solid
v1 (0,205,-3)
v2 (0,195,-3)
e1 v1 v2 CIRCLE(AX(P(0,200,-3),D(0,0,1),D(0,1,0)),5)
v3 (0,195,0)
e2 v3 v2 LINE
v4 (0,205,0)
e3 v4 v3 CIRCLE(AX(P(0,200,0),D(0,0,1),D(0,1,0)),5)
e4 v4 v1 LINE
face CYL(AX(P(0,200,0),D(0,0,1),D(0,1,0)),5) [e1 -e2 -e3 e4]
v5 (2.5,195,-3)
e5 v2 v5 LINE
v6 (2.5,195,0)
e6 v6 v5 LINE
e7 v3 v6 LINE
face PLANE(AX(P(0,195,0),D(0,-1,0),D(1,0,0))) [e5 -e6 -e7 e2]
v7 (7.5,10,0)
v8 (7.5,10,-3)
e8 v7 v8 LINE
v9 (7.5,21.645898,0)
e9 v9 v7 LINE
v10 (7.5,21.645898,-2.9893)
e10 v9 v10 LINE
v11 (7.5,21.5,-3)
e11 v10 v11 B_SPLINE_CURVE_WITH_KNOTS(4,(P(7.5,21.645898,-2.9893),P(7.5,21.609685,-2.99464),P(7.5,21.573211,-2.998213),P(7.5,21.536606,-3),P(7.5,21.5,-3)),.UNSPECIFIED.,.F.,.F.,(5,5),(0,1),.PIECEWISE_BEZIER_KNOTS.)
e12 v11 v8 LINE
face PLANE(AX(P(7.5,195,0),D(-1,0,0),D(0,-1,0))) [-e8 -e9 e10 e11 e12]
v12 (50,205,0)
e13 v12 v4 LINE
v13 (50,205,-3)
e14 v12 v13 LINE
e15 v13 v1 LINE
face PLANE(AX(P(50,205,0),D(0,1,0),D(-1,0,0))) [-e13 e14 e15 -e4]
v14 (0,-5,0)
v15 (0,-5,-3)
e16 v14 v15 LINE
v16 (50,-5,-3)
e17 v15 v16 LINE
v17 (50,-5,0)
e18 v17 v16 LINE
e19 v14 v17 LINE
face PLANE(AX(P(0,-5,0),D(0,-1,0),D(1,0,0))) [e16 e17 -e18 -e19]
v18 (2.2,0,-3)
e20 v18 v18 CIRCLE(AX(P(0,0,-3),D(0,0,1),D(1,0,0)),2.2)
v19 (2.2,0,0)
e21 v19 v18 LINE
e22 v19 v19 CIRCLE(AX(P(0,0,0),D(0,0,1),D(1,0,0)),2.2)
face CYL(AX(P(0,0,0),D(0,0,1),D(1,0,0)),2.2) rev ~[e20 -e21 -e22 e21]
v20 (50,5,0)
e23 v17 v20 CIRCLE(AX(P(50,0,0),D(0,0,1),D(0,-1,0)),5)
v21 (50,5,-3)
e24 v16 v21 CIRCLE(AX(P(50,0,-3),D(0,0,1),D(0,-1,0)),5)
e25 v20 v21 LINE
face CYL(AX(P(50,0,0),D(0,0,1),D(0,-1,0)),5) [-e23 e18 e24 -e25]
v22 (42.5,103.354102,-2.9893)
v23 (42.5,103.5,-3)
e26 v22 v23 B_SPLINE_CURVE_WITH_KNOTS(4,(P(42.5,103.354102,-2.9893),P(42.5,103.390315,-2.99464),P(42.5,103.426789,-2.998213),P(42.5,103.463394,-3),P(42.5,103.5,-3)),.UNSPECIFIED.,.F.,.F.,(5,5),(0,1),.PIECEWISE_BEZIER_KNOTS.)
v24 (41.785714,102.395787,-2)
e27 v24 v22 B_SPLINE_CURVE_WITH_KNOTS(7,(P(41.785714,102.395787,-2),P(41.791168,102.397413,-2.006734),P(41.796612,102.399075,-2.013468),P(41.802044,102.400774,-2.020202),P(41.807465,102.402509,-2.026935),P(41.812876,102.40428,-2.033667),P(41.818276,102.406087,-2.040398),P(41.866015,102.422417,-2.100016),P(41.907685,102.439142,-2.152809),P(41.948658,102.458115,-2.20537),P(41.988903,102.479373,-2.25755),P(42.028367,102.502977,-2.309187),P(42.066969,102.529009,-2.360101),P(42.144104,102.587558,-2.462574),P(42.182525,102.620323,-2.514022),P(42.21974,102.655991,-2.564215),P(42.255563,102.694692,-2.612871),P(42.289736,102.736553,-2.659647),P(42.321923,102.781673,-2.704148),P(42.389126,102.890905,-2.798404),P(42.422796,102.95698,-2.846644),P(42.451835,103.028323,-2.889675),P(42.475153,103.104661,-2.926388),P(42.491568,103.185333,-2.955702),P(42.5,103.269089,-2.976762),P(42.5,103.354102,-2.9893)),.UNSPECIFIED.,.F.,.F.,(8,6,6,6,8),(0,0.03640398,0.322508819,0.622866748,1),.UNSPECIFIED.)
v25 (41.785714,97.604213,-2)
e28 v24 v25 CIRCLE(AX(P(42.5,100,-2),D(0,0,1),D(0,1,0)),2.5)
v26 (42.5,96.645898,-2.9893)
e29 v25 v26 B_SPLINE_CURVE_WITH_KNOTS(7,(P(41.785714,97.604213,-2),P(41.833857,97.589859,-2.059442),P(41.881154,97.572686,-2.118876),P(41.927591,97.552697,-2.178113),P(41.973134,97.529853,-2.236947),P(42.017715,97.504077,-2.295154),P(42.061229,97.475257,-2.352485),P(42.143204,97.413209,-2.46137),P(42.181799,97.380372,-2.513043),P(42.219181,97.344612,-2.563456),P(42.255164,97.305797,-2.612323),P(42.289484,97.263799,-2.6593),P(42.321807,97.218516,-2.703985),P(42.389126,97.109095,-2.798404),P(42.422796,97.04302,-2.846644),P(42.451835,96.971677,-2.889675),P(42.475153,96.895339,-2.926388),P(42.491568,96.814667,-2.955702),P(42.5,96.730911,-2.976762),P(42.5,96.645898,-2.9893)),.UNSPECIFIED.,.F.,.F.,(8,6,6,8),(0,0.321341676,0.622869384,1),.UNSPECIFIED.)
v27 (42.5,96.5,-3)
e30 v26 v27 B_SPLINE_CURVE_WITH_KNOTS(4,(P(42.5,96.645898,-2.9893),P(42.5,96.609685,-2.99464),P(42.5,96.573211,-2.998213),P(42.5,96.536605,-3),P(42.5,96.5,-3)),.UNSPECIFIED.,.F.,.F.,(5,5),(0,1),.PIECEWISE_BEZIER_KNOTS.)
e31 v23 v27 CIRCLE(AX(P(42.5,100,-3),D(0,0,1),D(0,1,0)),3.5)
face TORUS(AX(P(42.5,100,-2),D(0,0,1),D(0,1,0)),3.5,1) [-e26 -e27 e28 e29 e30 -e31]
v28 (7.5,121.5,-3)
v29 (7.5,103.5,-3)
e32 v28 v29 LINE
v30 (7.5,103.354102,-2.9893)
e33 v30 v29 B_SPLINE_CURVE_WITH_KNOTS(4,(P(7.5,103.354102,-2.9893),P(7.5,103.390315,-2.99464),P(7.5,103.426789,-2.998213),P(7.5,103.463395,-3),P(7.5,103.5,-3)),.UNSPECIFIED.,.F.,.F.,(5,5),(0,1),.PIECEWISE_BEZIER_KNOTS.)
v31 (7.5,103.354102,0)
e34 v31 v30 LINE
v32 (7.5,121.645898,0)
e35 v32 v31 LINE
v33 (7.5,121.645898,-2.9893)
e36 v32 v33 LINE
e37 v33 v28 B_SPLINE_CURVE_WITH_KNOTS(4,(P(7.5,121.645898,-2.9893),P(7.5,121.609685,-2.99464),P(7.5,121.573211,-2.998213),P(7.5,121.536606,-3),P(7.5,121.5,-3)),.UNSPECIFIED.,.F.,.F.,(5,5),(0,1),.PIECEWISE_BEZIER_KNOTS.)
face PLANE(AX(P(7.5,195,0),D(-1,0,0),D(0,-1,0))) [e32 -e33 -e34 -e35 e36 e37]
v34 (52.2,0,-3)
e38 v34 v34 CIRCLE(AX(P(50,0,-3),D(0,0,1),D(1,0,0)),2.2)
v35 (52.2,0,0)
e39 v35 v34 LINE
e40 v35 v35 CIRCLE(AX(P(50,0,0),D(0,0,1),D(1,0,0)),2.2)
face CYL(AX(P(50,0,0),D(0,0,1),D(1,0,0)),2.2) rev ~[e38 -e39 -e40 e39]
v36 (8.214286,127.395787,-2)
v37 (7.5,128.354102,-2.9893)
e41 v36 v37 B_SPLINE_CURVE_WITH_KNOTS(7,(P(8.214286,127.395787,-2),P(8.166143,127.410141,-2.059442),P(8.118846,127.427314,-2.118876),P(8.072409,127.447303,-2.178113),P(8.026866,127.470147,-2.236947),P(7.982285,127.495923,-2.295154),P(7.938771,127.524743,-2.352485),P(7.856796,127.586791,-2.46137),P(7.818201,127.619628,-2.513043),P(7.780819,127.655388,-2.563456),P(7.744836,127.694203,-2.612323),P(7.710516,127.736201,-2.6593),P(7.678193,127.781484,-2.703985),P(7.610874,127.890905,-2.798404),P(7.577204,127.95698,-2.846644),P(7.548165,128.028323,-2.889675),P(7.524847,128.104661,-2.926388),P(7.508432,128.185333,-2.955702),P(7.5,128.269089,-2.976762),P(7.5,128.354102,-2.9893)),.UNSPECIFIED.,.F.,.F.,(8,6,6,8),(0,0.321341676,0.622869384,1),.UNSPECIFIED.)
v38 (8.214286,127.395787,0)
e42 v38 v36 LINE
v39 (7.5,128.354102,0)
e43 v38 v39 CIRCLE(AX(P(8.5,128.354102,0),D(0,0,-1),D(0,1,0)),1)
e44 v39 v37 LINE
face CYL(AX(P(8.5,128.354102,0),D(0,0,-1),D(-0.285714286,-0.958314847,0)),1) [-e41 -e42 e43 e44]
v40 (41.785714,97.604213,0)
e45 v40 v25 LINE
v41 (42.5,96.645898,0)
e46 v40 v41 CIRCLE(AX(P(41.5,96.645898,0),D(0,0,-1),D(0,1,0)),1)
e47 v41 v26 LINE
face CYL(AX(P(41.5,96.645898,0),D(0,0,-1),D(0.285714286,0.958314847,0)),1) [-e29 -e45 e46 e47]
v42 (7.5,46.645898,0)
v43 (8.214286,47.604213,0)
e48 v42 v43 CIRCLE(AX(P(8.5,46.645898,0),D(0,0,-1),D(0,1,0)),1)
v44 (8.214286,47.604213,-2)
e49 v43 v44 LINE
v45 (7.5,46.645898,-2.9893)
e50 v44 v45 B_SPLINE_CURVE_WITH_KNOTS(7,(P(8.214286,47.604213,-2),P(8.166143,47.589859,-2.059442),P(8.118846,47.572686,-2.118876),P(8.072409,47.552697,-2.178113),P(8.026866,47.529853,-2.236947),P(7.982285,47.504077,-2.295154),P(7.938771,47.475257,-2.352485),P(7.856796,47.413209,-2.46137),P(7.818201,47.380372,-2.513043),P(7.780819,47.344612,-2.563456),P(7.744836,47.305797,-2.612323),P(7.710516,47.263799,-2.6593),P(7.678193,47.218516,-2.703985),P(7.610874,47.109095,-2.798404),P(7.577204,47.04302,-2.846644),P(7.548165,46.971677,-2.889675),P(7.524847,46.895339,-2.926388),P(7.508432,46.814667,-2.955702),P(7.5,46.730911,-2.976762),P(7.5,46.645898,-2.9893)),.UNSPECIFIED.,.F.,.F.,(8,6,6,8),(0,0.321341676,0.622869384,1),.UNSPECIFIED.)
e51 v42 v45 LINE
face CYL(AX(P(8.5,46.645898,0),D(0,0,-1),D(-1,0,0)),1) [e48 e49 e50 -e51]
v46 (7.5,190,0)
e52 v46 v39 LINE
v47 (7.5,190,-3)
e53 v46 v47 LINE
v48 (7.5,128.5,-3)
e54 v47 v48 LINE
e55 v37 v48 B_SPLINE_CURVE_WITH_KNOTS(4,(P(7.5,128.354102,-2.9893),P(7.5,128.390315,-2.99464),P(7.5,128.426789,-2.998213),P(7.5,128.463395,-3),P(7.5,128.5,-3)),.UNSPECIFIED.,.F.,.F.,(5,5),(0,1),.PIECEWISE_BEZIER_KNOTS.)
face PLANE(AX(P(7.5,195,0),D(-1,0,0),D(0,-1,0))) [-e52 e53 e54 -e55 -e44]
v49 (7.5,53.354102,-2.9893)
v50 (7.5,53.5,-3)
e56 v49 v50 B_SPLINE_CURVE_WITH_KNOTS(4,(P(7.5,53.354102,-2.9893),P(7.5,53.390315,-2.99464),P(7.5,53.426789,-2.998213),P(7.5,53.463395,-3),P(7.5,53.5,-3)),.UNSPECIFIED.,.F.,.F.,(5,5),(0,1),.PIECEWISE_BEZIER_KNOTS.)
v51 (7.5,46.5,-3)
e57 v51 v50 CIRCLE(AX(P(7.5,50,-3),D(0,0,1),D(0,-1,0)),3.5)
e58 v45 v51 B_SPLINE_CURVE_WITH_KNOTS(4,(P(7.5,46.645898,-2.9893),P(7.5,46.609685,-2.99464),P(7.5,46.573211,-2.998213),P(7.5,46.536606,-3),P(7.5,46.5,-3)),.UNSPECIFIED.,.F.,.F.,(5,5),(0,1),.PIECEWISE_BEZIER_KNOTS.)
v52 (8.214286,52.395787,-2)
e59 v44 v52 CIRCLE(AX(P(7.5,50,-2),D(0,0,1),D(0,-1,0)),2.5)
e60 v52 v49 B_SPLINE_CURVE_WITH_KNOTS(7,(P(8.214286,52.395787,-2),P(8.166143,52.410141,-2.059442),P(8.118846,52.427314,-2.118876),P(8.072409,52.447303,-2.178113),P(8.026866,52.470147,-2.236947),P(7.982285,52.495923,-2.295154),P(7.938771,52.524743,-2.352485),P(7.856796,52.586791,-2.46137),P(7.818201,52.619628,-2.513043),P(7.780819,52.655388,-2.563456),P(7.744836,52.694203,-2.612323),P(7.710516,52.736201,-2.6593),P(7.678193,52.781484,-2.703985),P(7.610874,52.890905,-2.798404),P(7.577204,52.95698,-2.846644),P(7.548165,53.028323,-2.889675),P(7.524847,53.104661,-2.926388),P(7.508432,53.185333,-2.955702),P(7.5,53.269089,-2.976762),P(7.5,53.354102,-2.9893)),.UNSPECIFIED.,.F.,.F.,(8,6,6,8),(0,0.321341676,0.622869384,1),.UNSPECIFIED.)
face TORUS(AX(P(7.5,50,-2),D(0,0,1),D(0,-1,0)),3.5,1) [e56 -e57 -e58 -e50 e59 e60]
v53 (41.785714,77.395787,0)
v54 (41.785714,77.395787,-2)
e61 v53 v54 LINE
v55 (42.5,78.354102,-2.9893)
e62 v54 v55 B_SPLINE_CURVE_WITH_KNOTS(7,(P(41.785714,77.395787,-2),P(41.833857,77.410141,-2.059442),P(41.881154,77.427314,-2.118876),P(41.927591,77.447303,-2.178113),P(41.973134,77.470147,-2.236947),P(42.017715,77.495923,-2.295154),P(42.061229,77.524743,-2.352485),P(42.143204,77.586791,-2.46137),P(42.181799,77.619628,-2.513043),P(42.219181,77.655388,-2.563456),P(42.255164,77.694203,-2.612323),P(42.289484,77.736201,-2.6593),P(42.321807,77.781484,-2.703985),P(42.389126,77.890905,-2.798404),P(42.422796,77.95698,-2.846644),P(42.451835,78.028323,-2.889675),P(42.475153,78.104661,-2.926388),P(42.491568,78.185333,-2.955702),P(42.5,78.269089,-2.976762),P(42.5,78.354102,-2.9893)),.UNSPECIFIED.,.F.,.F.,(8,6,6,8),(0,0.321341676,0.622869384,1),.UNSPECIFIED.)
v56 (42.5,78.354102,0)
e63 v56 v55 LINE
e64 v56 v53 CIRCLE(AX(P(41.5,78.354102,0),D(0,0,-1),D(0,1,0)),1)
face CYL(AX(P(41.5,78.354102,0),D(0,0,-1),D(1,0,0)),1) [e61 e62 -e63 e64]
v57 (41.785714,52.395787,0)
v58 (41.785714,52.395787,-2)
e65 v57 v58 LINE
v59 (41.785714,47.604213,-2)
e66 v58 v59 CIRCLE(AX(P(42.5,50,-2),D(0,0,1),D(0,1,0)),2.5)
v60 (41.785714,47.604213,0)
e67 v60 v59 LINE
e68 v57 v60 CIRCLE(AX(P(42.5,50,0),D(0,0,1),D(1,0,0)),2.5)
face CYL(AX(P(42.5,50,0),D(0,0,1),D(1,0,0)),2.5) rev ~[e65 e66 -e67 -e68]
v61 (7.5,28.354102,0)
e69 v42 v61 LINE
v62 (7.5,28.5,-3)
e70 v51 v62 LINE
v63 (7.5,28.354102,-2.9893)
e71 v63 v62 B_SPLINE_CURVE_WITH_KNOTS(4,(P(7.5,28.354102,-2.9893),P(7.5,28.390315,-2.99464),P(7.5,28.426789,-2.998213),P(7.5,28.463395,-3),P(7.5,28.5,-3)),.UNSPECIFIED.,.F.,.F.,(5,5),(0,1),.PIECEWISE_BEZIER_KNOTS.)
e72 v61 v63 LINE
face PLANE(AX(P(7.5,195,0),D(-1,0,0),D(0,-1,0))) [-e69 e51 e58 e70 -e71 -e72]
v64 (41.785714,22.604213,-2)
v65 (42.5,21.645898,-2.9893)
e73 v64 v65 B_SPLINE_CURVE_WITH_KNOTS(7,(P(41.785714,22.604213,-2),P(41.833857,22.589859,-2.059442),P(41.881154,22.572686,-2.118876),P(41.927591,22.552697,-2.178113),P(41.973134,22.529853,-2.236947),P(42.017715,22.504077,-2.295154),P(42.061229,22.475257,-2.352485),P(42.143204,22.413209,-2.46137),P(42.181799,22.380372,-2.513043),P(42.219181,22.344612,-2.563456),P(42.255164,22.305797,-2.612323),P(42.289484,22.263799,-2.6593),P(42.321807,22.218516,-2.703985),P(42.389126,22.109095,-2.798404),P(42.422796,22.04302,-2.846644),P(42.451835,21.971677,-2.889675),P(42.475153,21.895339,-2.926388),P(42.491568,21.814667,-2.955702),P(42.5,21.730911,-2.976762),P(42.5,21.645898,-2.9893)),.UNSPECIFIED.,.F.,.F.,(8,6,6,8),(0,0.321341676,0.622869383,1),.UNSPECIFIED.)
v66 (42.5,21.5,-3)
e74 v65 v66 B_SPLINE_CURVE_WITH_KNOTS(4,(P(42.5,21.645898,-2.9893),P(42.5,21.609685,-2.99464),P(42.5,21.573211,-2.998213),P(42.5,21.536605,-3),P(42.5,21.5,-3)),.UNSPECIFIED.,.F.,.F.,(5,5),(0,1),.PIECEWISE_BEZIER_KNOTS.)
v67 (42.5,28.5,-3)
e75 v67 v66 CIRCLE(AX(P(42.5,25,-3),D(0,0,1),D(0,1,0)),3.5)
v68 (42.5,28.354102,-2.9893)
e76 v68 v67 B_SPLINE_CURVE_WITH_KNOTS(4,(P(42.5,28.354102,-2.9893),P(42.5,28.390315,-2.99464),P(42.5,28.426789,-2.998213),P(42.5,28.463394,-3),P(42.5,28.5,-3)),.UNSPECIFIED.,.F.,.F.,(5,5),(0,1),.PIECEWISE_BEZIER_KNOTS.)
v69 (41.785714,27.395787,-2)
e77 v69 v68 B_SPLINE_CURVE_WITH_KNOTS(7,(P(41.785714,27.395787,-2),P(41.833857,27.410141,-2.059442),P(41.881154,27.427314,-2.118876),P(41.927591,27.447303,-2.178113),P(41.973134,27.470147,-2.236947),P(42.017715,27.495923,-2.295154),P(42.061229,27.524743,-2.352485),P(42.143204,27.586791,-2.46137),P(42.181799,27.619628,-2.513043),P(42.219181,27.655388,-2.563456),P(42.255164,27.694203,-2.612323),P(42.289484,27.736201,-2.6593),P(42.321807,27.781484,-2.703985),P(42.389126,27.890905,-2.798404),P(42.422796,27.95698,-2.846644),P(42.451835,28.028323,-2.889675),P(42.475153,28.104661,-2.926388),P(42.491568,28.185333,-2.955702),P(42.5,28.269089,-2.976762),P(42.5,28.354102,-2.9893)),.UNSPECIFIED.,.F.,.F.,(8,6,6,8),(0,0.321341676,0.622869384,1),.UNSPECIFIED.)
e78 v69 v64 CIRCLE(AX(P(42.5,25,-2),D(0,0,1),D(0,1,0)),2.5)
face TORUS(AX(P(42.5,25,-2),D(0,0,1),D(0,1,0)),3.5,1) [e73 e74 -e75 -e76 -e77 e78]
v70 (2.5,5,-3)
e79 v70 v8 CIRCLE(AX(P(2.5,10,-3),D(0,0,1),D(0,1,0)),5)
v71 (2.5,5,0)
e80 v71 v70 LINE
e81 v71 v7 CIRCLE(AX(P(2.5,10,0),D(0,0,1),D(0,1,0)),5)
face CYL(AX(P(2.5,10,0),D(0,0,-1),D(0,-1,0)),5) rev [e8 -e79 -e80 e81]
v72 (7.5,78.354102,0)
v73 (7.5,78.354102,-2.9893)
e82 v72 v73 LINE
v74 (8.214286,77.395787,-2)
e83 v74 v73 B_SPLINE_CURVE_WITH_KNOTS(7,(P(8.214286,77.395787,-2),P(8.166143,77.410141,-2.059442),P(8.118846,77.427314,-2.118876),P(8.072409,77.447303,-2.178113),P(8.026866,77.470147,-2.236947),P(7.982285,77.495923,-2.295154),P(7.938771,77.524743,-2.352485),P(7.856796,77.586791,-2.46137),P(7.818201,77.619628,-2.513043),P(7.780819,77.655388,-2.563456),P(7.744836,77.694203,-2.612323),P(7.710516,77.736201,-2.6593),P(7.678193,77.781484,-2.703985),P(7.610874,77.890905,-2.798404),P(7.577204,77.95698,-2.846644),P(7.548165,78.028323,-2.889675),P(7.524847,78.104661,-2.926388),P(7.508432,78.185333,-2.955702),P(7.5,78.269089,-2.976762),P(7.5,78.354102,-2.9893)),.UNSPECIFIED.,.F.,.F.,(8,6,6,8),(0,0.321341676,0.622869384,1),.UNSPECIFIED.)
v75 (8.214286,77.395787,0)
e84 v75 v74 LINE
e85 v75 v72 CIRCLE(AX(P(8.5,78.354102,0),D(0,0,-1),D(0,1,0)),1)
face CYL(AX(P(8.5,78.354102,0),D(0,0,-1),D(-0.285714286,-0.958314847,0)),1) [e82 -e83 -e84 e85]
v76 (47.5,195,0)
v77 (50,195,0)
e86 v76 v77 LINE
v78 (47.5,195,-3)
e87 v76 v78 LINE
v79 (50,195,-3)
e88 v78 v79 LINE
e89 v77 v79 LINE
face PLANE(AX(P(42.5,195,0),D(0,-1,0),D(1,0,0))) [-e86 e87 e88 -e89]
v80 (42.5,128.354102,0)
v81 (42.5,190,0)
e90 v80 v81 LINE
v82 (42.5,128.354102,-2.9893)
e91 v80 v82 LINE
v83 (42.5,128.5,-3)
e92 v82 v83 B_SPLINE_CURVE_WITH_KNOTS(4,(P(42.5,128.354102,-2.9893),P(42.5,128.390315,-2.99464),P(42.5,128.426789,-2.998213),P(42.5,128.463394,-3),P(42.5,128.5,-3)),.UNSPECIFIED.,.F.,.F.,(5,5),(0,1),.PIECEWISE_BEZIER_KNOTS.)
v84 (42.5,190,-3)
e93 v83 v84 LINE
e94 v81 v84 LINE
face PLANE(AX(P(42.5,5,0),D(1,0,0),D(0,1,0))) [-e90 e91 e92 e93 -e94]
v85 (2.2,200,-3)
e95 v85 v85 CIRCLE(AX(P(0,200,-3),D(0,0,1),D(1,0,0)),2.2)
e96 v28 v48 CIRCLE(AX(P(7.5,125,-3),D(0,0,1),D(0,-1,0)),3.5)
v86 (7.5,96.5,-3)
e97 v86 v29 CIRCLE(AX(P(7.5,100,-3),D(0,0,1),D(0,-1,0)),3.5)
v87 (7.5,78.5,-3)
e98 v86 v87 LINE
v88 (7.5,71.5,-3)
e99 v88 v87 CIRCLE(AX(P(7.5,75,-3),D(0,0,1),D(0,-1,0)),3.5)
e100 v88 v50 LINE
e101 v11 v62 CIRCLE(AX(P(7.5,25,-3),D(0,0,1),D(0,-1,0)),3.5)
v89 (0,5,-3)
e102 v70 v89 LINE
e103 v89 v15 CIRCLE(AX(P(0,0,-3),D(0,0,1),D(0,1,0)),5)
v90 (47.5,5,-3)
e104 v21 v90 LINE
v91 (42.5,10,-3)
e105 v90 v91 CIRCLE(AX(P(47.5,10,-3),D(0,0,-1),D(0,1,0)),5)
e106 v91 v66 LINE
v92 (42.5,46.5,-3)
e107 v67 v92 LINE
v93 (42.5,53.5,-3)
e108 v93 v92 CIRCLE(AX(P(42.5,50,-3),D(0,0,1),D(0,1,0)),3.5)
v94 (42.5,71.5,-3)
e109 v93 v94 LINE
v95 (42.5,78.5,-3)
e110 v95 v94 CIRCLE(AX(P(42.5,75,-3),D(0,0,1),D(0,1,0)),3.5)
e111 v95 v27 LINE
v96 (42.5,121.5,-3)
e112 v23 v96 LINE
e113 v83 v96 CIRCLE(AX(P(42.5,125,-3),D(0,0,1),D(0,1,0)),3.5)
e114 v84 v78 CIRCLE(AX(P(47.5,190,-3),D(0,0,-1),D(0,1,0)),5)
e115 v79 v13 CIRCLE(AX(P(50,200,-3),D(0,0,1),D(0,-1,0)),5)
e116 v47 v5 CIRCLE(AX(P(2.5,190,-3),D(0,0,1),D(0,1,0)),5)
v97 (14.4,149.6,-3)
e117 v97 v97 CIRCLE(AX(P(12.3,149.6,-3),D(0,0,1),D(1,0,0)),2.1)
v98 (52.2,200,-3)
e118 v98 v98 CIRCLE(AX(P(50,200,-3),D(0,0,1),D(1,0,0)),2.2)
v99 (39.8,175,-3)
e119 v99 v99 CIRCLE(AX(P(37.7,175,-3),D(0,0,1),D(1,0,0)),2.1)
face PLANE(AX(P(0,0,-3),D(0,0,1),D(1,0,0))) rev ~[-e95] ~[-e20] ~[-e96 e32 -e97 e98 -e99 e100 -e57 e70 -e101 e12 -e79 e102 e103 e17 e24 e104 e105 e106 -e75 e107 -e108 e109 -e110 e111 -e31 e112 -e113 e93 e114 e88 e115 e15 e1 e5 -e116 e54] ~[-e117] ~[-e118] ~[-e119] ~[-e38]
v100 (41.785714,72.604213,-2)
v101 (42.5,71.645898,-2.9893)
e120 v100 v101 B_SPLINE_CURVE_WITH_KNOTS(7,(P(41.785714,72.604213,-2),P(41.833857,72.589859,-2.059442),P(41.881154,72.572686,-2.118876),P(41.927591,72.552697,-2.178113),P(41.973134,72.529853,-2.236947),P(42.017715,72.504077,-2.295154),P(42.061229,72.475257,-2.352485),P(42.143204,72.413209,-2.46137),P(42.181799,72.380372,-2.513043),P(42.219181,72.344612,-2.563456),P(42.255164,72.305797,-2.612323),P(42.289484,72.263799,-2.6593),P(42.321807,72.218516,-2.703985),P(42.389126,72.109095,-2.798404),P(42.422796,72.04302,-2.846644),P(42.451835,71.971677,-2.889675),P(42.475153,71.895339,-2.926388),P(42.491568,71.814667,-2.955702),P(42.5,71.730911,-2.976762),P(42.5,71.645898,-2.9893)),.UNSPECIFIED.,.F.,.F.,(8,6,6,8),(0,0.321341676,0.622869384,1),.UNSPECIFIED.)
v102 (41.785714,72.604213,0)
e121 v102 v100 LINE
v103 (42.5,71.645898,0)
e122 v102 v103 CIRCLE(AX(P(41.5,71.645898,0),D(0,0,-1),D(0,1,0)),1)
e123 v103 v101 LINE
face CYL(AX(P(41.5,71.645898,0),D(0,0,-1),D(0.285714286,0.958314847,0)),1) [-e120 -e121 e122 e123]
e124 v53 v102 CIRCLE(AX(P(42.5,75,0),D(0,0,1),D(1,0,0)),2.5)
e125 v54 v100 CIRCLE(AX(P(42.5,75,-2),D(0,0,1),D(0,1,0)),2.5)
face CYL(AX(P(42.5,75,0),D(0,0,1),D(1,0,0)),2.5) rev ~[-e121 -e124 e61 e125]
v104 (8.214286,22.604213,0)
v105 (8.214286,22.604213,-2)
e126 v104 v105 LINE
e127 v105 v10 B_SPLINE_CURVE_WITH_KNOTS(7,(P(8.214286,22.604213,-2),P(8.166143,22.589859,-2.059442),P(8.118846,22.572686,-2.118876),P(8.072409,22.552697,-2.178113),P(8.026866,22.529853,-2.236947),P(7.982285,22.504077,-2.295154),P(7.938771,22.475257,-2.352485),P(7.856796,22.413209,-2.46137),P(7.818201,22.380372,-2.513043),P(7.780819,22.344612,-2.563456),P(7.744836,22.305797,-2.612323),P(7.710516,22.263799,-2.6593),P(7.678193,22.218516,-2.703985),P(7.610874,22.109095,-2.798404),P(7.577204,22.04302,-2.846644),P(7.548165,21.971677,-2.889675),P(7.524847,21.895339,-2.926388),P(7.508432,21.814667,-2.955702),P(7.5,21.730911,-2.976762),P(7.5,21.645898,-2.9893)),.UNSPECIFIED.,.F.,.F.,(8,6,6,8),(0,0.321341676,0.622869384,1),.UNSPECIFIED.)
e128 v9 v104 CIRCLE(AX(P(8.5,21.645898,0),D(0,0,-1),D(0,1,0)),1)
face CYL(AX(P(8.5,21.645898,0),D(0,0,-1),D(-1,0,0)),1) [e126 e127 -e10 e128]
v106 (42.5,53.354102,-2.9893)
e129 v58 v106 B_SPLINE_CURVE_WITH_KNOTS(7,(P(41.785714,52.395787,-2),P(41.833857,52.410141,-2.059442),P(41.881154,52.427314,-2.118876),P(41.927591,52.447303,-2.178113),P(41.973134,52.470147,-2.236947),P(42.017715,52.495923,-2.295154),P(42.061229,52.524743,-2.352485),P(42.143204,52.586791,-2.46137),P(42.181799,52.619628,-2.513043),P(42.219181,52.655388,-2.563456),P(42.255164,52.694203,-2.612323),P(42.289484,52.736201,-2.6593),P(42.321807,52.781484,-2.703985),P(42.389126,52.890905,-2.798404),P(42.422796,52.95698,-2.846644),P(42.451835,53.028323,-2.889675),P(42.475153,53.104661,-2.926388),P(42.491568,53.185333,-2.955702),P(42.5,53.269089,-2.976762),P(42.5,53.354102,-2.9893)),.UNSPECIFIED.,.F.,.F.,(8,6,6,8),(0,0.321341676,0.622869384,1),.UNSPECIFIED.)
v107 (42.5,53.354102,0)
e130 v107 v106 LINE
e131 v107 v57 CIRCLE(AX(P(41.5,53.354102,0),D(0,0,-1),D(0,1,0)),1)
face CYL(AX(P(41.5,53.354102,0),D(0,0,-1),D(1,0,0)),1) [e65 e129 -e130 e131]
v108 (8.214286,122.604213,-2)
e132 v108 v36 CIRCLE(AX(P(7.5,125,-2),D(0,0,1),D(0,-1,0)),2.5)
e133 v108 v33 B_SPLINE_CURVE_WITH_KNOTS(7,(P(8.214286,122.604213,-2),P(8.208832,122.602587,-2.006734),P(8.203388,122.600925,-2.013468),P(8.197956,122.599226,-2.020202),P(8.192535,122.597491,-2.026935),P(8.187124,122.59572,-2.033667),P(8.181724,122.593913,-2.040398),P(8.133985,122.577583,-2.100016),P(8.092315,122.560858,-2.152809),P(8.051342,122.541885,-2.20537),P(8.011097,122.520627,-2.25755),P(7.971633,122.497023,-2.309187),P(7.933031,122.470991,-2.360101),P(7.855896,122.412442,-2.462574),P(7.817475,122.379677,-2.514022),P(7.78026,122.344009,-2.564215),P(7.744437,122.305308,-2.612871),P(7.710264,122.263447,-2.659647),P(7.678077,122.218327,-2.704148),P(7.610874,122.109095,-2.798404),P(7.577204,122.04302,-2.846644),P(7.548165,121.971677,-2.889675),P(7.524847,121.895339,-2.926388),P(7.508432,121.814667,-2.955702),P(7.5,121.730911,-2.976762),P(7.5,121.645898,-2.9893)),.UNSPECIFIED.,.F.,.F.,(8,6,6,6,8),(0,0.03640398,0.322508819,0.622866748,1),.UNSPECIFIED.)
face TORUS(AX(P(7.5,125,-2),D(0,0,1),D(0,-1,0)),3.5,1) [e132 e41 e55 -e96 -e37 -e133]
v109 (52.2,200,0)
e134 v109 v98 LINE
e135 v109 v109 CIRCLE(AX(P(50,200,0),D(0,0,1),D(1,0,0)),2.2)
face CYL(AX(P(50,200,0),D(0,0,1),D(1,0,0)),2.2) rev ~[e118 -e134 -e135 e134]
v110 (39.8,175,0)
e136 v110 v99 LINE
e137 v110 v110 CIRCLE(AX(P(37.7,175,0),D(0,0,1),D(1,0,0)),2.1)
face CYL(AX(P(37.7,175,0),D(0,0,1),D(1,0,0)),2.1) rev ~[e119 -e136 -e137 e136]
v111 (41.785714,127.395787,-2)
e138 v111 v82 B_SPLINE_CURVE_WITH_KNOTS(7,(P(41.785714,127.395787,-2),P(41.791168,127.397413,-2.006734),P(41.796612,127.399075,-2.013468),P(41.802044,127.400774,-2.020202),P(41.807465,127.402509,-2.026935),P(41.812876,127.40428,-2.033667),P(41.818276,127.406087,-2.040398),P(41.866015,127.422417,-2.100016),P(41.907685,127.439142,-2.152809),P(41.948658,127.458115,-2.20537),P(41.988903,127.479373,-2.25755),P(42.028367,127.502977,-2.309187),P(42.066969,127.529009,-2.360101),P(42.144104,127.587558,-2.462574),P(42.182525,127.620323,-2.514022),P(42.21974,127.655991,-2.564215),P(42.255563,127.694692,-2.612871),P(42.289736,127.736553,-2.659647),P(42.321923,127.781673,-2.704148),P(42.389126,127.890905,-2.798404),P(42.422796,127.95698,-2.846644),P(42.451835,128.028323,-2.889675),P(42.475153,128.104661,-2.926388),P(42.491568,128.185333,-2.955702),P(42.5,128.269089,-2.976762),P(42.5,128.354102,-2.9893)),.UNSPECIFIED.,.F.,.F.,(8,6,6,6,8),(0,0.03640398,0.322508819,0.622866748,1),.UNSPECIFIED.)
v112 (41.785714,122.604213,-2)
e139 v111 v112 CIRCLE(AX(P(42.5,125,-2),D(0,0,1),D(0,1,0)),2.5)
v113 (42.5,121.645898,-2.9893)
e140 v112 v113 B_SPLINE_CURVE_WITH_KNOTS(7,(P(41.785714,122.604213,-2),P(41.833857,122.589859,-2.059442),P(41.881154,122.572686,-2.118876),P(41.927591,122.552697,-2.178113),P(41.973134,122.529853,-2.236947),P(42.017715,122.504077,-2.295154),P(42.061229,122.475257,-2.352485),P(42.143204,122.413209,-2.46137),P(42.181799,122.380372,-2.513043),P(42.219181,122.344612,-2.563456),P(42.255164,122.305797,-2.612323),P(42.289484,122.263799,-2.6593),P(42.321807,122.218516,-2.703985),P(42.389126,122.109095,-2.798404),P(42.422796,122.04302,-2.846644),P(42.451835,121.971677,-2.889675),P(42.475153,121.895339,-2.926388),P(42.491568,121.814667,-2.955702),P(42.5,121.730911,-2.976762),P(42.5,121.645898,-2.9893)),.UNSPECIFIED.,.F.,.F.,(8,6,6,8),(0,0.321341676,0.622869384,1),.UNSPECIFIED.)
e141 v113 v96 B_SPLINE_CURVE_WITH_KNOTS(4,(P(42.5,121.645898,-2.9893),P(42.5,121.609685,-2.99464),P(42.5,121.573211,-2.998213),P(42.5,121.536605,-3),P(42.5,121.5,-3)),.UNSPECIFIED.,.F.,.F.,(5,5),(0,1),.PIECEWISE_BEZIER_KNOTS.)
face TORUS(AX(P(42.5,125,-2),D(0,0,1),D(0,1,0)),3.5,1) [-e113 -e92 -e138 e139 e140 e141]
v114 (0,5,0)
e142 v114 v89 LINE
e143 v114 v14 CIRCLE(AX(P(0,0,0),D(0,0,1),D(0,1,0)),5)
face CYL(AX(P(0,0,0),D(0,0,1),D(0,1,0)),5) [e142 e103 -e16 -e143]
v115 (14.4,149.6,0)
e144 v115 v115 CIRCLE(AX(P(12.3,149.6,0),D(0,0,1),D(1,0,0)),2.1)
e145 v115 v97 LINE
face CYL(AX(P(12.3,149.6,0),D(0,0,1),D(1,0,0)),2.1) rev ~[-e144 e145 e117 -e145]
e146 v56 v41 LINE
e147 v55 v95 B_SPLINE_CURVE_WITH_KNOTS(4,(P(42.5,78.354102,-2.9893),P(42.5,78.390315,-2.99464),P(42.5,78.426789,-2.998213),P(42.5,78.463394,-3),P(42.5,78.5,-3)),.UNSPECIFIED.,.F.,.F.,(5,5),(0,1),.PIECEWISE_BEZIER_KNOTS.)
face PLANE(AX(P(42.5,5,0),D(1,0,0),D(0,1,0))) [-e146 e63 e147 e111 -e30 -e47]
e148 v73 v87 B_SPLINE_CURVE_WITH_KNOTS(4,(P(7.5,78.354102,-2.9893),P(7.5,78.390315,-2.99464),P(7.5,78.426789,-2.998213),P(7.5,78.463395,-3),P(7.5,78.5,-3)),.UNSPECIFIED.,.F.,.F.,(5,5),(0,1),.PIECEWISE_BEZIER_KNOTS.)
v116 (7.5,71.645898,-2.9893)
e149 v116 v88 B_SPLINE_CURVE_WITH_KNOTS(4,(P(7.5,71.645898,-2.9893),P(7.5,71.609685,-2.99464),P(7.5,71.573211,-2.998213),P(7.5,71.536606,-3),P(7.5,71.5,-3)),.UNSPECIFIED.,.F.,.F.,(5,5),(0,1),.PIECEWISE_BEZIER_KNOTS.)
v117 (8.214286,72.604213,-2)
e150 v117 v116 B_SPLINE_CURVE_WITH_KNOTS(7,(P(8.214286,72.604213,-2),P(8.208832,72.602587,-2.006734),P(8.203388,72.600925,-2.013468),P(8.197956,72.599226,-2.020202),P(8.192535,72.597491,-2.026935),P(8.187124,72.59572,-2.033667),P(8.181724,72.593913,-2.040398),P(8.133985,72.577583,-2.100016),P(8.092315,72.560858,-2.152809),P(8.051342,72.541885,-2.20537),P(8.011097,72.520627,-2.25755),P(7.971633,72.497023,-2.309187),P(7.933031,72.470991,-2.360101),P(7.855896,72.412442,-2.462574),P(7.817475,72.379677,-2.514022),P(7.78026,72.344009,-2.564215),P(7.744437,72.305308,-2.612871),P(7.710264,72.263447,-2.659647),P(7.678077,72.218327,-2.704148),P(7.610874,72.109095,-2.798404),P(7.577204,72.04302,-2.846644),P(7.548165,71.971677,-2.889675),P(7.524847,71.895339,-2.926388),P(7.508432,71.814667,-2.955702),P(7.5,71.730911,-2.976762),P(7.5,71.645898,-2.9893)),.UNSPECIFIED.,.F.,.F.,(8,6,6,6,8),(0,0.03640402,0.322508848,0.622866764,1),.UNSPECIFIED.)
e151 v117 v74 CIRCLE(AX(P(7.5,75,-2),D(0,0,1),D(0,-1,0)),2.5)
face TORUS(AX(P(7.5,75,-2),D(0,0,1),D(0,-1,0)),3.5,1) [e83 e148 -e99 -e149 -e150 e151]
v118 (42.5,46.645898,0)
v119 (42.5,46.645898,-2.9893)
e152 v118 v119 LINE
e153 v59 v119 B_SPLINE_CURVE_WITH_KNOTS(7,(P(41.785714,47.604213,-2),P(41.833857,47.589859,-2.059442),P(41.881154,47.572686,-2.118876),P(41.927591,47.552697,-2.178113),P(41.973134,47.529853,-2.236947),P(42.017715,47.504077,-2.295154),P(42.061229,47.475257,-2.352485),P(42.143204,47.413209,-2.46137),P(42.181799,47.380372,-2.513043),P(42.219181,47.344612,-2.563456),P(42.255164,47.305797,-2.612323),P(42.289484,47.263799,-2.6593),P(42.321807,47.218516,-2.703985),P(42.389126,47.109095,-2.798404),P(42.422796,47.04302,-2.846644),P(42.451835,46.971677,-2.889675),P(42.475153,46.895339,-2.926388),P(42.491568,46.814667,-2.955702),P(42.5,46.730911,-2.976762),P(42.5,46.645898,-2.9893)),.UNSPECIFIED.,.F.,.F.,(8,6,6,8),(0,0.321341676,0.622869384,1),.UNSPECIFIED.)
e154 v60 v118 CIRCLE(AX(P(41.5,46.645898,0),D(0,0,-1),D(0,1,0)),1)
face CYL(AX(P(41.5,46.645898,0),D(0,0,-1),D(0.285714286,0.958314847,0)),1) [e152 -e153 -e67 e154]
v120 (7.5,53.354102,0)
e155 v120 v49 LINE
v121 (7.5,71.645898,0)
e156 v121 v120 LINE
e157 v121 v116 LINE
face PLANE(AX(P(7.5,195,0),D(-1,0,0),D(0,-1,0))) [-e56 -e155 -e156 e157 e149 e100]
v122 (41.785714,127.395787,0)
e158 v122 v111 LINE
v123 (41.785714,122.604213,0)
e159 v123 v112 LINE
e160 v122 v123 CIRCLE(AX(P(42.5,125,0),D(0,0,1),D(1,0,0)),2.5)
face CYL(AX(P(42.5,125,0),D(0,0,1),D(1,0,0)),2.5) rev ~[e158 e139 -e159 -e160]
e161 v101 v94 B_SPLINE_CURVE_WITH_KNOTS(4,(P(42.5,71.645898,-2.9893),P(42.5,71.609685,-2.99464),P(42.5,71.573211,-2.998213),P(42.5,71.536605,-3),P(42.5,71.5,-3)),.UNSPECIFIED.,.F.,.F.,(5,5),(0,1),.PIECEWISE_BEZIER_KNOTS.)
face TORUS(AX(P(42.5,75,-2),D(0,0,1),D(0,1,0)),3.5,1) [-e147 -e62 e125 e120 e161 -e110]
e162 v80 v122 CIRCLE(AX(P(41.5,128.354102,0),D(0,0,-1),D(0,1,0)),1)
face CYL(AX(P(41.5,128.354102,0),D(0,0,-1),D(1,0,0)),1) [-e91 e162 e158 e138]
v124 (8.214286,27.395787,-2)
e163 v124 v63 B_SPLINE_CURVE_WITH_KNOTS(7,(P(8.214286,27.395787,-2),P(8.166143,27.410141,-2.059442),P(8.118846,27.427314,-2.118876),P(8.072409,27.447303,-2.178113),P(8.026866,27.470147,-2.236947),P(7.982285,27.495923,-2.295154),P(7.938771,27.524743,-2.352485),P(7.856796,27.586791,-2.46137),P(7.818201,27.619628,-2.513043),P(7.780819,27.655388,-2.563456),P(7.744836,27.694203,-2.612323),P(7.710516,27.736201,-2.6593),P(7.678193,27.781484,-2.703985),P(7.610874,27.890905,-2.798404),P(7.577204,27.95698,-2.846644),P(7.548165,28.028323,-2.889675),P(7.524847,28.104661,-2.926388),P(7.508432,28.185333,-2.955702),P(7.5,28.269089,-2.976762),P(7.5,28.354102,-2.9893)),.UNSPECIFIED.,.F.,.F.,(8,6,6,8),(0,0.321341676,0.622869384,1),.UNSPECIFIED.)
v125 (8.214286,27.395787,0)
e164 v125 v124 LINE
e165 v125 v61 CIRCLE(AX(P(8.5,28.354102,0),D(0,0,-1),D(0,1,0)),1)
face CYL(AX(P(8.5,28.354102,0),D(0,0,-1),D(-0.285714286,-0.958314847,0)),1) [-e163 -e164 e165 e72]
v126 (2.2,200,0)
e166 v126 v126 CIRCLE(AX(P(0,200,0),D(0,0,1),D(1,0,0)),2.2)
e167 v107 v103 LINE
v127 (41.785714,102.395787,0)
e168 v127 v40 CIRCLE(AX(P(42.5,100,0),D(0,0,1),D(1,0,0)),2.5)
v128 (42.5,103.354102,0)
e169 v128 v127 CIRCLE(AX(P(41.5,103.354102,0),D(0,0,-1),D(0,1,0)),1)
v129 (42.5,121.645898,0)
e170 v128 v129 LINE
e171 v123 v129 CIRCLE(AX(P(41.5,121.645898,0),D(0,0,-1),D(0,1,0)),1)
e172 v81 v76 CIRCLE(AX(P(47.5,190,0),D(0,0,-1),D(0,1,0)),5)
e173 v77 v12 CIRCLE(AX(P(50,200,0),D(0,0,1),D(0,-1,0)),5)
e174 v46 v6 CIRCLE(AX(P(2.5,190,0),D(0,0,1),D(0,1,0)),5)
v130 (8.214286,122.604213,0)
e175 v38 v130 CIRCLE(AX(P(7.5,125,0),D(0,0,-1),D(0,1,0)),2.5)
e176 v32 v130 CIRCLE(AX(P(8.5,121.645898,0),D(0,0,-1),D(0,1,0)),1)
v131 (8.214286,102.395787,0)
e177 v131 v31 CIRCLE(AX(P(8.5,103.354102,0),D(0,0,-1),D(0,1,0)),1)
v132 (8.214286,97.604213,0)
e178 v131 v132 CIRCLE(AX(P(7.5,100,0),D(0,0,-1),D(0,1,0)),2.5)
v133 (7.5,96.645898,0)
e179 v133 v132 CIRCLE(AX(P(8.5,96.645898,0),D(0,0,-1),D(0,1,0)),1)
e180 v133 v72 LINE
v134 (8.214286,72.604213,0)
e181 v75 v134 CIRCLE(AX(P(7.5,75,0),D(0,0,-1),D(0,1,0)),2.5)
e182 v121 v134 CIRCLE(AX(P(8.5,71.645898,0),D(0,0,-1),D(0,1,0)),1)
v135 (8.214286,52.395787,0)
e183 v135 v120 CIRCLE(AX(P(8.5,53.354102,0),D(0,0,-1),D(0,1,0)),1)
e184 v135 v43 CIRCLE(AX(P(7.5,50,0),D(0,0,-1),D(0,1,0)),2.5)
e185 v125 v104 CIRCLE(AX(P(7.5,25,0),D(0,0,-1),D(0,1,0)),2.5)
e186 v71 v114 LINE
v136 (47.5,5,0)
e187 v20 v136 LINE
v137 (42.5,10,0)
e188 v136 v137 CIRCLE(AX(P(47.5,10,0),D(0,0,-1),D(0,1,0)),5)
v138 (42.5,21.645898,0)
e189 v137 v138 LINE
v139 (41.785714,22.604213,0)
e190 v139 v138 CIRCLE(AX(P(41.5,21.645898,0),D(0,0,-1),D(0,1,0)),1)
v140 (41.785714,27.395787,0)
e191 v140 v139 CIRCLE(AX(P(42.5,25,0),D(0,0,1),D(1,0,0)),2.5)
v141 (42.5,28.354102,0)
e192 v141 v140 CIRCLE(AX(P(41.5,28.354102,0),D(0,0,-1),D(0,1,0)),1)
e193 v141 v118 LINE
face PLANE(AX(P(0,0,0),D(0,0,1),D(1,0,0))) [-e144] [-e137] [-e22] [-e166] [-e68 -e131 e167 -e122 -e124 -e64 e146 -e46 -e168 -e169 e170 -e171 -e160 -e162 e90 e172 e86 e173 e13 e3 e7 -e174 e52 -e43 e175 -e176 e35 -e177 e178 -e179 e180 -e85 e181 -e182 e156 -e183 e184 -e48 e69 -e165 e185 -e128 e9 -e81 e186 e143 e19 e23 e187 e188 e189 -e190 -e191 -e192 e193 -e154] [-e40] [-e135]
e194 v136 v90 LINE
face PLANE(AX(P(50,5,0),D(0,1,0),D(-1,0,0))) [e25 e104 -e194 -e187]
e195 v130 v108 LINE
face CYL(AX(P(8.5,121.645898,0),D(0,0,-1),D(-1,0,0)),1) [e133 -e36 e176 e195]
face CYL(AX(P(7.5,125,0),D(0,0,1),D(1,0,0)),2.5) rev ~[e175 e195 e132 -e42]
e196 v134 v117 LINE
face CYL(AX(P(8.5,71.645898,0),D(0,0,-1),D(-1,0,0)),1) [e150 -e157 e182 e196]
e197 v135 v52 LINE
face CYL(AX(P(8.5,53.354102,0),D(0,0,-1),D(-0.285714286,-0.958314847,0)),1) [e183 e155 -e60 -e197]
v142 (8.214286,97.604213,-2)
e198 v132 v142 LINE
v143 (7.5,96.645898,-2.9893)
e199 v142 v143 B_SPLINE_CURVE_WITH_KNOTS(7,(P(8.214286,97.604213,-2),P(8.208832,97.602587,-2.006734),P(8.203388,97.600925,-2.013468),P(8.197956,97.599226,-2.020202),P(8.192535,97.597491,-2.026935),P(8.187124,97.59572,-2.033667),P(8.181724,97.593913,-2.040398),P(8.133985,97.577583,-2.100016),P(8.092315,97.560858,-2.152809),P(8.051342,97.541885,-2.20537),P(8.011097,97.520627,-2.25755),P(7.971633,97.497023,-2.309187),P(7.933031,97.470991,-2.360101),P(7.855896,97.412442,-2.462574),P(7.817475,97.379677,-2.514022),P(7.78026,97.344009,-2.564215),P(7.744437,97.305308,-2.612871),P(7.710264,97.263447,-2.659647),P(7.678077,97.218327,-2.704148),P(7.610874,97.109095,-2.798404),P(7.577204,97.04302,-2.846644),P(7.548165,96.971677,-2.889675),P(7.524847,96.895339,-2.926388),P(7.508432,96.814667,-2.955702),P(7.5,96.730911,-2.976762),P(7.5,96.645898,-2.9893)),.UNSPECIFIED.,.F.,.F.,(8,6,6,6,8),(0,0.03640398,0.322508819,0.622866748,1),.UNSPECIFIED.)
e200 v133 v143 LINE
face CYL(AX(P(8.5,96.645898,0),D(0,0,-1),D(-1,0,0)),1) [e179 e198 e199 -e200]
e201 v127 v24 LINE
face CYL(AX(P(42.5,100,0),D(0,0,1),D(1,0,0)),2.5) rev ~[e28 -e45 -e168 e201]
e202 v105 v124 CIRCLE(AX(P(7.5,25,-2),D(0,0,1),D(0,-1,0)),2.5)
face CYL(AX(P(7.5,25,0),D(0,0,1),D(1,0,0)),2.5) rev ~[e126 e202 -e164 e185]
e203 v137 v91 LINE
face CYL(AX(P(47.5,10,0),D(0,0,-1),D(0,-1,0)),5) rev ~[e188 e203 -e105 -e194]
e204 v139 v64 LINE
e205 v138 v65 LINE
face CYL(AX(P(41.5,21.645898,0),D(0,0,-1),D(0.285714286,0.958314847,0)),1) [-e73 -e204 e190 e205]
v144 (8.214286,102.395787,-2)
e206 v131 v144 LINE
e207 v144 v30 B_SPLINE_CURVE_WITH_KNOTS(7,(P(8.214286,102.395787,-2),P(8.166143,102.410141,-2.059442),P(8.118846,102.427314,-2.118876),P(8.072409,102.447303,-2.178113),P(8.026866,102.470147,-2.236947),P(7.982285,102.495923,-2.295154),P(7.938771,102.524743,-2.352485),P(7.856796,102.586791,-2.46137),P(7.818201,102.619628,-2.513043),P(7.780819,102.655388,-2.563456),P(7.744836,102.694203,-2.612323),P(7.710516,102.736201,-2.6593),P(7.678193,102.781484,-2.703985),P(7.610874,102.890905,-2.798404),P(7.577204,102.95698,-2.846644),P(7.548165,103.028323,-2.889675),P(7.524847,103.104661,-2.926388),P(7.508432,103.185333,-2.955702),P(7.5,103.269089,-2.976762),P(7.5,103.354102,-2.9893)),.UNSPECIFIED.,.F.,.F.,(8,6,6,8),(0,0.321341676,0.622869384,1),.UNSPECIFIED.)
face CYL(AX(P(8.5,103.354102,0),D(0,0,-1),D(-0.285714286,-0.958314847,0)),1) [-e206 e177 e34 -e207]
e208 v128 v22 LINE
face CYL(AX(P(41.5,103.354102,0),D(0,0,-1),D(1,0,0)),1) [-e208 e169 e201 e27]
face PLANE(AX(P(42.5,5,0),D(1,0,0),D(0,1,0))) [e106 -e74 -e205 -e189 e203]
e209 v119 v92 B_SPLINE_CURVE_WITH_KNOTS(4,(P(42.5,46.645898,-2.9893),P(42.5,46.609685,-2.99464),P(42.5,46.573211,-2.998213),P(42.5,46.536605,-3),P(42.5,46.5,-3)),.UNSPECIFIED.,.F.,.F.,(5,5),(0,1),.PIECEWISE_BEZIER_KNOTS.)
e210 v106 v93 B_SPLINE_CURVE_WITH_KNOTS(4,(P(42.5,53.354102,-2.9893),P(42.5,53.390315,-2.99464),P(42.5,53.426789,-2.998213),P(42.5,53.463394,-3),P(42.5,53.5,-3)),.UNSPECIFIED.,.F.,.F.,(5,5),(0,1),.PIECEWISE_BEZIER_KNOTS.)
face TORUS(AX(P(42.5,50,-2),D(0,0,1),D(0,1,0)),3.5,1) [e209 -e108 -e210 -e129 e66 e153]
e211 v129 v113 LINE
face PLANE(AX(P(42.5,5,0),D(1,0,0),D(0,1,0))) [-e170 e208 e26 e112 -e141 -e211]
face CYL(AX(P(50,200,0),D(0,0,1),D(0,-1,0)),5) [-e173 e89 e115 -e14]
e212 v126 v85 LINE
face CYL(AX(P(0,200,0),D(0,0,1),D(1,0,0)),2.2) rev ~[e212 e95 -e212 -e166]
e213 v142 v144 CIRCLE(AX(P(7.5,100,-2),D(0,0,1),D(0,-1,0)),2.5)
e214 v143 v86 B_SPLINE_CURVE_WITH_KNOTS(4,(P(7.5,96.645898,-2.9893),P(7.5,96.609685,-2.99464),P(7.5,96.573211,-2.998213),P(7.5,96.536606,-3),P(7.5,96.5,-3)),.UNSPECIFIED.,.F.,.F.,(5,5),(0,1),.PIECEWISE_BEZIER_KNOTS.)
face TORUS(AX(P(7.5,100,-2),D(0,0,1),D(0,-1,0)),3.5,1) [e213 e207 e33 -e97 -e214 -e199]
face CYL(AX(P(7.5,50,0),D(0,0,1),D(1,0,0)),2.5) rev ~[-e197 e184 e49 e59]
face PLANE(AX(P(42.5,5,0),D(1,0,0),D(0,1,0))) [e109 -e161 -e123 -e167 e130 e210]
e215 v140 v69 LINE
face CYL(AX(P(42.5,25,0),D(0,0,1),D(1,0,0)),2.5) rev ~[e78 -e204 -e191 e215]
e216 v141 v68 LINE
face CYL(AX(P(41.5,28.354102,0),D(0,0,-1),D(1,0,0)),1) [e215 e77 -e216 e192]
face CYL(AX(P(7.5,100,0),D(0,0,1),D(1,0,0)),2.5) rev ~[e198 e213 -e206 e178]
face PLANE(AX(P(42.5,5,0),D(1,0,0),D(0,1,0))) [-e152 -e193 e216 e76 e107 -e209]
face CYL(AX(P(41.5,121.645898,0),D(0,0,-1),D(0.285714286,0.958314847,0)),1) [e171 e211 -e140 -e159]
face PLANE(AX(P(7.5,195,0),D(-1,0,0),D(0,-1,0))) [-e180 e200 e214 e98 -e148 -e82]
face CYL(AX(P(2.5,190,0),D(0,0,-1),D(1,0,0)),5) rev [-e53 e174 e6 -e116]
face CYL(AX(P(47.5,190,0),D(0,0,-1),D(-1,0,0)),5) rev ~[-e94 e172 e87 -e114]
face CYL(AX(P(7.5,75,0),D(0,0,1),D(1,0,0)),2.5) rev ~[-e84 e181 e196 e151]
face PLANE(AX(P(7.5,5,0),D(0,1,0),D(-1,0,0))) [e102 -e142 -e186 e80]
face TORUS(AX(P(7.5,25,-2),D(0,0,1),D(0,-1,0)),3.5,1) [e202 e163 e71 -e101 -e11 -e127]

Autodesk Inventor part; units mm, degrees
ref_plane "YZ Plane" through (0, 0, 0) normal (1, 0, 0) x (0, 1, 0)
ref_plane "XZ Plane" through (0, 0, 0) normal (0, 1, 0) x (-1, 0, 0)
ref_plane "XY Plane" through (0, 0, 0) normal (0, 0, 1) x (1, 0, 0)
sketch "Sketch1" plane through (0, 0, 0) normal (0, 0, 1) x (1, 0, 0)
  circle A0 centre (0, 0) radius 2.2
  line L0 (7.5, 0) -> (42.5, 0)
  line L1 (42.5, 0) -> (42.5, 200)
  line L2 (42.5, 200) -> (7.5, 200)
  line L3 (7.5, 200) -> (7.5, 0)
  circle A1 centre (50, 0) radius 2.2
  circle A2 centre (0, 200) radius 2.2
  circle A3 centre (50, 200) radius 2.2
  line L4 (0, 0) -> (50, 0) construction
  line L5 (0, -5) -> (50, -5)
  line L6 (50, 5) -> (0, 5)
  arc A4 (0, 5) -> (0, -5) centre (0, 0) ccw
  arc A5 (50, -5) -> (50, 5) centre (50, 0) ccw
  line L7 (0, 200) -> (50, 200) construction
  line L8 (0, 195) -> (50, 195)
  line L9 (50, 205) -> (0, 205)
  arc A6 (0, 205) -> (0, 195) centre (0, 200) ccw
  arc A7 (50, 195) -> (50, 205) centre (50, 200) ccw
  point P0 (25, 0)
  point P1 (25, 0)
  point P2 (25, 200)
  point P3 (7.5, 5)
  point P4 (42.5, 5)
  point P5 (42.5, 195)
  point P6 (7.5, 195)
  dimension "d0" = 4.4
  dimension "d1" = 35
  dimension "d2" = 200
  dimension "d3" = 25
  dimension "d5" = 0
  dimension "d8" = 50
  dimension "d11" = 200
  dimension "d14" = 10
  dimension "d15" = 10
extrude "Extrusion1" add sketch "Sketch1" against normal blind 3
fillet "Fillet1" radius 5 4 edges at (7.5, 5, -1.5) (42.5, 5, -1.5) (42.5, 195, -1.5) (7.5, 195, -1.5)
sketch "Sketch2" plane through (0, 0, 0) normal (0, 0, 1) x (1, 0, 0)
  circle A0 centre (0, 200) radius 2.2 projected
  circle A1 centre (50, 200) radius 2.2 projected
  line L0 (0, 200) -> (50, 200) construction
  circle A2 centre (37.7, 175) radius 2.1
  circle A3 centre (12.3, 149.6) radius 2.1
  line L1 (37.7, 175) -> (12.3, 175) construction
  line L2 (12.3, 175) -> (12.3, 149.6) construction
  line L3 (12.3, 149.6) -> (37.7, 149.6) construction
  line L4 (37.7, 149.6) -> (37.7, 175) construction
  point P0 (0, 0)
  point P1 (25, 200)
  point P2 (25, 175)
  dimension "d19" = 4.2
  dimension "d20" = 4.2
  dimension "d21" = 25
  dimension "d22" = 25.4
  dimension "d23" = 25.4
  dimension "d24" = 0
extrude "Extrusion2" cut sketch "Sketch2" against normal blind 3 contours A2 | A3
sketch "Sketch3" plane through (0, 0, 0) normal (0, 0, 1) x (1, 0, 0)
  line L0 (7.5, 10) -> (7.5, 190) projected
  circle A0 centre (7.5, 25) radius 2.5
  line L1 (42.5, 190) -> (42.5, 10) projected
  circle A1 centre (42.5, 25) radius 2.5
  point P0 (0, 0)
  point P1 (42.5, 22.5)
  point P2 (42.5, 27.5)
  point P3 (7.5, 27.5)
  point P4 (7.5, 22.5)
  dimension "d27" = 5
  dimension "d28" = 25
  dimension "d29" = 5
  dimension "d30" = 25
extrude "Extrusion3" cut sketch "Sketch3" against normal blind 3 contours L0 A0 | L1 A1 picked at (8.4362, 25.3407) picked at (41.0396, 24.5266)
fillet "Fillet2" radius 1 6 edges at (7.5, 22.5, -1.5) (7.5, 27.5, -1.5) (42.5, 27.5, -1.5) (42.5, 22.5, -1.5) (40, 25, -3) (10, 25, -3)
pattern_linear "Rectangular Pattern1" count 5 spacing 25 along (0, 1, 0) of "Extrusion3", "Fillet2"
equation "\"d20\" = d19"
properties part number "rx_frontend_generic"
